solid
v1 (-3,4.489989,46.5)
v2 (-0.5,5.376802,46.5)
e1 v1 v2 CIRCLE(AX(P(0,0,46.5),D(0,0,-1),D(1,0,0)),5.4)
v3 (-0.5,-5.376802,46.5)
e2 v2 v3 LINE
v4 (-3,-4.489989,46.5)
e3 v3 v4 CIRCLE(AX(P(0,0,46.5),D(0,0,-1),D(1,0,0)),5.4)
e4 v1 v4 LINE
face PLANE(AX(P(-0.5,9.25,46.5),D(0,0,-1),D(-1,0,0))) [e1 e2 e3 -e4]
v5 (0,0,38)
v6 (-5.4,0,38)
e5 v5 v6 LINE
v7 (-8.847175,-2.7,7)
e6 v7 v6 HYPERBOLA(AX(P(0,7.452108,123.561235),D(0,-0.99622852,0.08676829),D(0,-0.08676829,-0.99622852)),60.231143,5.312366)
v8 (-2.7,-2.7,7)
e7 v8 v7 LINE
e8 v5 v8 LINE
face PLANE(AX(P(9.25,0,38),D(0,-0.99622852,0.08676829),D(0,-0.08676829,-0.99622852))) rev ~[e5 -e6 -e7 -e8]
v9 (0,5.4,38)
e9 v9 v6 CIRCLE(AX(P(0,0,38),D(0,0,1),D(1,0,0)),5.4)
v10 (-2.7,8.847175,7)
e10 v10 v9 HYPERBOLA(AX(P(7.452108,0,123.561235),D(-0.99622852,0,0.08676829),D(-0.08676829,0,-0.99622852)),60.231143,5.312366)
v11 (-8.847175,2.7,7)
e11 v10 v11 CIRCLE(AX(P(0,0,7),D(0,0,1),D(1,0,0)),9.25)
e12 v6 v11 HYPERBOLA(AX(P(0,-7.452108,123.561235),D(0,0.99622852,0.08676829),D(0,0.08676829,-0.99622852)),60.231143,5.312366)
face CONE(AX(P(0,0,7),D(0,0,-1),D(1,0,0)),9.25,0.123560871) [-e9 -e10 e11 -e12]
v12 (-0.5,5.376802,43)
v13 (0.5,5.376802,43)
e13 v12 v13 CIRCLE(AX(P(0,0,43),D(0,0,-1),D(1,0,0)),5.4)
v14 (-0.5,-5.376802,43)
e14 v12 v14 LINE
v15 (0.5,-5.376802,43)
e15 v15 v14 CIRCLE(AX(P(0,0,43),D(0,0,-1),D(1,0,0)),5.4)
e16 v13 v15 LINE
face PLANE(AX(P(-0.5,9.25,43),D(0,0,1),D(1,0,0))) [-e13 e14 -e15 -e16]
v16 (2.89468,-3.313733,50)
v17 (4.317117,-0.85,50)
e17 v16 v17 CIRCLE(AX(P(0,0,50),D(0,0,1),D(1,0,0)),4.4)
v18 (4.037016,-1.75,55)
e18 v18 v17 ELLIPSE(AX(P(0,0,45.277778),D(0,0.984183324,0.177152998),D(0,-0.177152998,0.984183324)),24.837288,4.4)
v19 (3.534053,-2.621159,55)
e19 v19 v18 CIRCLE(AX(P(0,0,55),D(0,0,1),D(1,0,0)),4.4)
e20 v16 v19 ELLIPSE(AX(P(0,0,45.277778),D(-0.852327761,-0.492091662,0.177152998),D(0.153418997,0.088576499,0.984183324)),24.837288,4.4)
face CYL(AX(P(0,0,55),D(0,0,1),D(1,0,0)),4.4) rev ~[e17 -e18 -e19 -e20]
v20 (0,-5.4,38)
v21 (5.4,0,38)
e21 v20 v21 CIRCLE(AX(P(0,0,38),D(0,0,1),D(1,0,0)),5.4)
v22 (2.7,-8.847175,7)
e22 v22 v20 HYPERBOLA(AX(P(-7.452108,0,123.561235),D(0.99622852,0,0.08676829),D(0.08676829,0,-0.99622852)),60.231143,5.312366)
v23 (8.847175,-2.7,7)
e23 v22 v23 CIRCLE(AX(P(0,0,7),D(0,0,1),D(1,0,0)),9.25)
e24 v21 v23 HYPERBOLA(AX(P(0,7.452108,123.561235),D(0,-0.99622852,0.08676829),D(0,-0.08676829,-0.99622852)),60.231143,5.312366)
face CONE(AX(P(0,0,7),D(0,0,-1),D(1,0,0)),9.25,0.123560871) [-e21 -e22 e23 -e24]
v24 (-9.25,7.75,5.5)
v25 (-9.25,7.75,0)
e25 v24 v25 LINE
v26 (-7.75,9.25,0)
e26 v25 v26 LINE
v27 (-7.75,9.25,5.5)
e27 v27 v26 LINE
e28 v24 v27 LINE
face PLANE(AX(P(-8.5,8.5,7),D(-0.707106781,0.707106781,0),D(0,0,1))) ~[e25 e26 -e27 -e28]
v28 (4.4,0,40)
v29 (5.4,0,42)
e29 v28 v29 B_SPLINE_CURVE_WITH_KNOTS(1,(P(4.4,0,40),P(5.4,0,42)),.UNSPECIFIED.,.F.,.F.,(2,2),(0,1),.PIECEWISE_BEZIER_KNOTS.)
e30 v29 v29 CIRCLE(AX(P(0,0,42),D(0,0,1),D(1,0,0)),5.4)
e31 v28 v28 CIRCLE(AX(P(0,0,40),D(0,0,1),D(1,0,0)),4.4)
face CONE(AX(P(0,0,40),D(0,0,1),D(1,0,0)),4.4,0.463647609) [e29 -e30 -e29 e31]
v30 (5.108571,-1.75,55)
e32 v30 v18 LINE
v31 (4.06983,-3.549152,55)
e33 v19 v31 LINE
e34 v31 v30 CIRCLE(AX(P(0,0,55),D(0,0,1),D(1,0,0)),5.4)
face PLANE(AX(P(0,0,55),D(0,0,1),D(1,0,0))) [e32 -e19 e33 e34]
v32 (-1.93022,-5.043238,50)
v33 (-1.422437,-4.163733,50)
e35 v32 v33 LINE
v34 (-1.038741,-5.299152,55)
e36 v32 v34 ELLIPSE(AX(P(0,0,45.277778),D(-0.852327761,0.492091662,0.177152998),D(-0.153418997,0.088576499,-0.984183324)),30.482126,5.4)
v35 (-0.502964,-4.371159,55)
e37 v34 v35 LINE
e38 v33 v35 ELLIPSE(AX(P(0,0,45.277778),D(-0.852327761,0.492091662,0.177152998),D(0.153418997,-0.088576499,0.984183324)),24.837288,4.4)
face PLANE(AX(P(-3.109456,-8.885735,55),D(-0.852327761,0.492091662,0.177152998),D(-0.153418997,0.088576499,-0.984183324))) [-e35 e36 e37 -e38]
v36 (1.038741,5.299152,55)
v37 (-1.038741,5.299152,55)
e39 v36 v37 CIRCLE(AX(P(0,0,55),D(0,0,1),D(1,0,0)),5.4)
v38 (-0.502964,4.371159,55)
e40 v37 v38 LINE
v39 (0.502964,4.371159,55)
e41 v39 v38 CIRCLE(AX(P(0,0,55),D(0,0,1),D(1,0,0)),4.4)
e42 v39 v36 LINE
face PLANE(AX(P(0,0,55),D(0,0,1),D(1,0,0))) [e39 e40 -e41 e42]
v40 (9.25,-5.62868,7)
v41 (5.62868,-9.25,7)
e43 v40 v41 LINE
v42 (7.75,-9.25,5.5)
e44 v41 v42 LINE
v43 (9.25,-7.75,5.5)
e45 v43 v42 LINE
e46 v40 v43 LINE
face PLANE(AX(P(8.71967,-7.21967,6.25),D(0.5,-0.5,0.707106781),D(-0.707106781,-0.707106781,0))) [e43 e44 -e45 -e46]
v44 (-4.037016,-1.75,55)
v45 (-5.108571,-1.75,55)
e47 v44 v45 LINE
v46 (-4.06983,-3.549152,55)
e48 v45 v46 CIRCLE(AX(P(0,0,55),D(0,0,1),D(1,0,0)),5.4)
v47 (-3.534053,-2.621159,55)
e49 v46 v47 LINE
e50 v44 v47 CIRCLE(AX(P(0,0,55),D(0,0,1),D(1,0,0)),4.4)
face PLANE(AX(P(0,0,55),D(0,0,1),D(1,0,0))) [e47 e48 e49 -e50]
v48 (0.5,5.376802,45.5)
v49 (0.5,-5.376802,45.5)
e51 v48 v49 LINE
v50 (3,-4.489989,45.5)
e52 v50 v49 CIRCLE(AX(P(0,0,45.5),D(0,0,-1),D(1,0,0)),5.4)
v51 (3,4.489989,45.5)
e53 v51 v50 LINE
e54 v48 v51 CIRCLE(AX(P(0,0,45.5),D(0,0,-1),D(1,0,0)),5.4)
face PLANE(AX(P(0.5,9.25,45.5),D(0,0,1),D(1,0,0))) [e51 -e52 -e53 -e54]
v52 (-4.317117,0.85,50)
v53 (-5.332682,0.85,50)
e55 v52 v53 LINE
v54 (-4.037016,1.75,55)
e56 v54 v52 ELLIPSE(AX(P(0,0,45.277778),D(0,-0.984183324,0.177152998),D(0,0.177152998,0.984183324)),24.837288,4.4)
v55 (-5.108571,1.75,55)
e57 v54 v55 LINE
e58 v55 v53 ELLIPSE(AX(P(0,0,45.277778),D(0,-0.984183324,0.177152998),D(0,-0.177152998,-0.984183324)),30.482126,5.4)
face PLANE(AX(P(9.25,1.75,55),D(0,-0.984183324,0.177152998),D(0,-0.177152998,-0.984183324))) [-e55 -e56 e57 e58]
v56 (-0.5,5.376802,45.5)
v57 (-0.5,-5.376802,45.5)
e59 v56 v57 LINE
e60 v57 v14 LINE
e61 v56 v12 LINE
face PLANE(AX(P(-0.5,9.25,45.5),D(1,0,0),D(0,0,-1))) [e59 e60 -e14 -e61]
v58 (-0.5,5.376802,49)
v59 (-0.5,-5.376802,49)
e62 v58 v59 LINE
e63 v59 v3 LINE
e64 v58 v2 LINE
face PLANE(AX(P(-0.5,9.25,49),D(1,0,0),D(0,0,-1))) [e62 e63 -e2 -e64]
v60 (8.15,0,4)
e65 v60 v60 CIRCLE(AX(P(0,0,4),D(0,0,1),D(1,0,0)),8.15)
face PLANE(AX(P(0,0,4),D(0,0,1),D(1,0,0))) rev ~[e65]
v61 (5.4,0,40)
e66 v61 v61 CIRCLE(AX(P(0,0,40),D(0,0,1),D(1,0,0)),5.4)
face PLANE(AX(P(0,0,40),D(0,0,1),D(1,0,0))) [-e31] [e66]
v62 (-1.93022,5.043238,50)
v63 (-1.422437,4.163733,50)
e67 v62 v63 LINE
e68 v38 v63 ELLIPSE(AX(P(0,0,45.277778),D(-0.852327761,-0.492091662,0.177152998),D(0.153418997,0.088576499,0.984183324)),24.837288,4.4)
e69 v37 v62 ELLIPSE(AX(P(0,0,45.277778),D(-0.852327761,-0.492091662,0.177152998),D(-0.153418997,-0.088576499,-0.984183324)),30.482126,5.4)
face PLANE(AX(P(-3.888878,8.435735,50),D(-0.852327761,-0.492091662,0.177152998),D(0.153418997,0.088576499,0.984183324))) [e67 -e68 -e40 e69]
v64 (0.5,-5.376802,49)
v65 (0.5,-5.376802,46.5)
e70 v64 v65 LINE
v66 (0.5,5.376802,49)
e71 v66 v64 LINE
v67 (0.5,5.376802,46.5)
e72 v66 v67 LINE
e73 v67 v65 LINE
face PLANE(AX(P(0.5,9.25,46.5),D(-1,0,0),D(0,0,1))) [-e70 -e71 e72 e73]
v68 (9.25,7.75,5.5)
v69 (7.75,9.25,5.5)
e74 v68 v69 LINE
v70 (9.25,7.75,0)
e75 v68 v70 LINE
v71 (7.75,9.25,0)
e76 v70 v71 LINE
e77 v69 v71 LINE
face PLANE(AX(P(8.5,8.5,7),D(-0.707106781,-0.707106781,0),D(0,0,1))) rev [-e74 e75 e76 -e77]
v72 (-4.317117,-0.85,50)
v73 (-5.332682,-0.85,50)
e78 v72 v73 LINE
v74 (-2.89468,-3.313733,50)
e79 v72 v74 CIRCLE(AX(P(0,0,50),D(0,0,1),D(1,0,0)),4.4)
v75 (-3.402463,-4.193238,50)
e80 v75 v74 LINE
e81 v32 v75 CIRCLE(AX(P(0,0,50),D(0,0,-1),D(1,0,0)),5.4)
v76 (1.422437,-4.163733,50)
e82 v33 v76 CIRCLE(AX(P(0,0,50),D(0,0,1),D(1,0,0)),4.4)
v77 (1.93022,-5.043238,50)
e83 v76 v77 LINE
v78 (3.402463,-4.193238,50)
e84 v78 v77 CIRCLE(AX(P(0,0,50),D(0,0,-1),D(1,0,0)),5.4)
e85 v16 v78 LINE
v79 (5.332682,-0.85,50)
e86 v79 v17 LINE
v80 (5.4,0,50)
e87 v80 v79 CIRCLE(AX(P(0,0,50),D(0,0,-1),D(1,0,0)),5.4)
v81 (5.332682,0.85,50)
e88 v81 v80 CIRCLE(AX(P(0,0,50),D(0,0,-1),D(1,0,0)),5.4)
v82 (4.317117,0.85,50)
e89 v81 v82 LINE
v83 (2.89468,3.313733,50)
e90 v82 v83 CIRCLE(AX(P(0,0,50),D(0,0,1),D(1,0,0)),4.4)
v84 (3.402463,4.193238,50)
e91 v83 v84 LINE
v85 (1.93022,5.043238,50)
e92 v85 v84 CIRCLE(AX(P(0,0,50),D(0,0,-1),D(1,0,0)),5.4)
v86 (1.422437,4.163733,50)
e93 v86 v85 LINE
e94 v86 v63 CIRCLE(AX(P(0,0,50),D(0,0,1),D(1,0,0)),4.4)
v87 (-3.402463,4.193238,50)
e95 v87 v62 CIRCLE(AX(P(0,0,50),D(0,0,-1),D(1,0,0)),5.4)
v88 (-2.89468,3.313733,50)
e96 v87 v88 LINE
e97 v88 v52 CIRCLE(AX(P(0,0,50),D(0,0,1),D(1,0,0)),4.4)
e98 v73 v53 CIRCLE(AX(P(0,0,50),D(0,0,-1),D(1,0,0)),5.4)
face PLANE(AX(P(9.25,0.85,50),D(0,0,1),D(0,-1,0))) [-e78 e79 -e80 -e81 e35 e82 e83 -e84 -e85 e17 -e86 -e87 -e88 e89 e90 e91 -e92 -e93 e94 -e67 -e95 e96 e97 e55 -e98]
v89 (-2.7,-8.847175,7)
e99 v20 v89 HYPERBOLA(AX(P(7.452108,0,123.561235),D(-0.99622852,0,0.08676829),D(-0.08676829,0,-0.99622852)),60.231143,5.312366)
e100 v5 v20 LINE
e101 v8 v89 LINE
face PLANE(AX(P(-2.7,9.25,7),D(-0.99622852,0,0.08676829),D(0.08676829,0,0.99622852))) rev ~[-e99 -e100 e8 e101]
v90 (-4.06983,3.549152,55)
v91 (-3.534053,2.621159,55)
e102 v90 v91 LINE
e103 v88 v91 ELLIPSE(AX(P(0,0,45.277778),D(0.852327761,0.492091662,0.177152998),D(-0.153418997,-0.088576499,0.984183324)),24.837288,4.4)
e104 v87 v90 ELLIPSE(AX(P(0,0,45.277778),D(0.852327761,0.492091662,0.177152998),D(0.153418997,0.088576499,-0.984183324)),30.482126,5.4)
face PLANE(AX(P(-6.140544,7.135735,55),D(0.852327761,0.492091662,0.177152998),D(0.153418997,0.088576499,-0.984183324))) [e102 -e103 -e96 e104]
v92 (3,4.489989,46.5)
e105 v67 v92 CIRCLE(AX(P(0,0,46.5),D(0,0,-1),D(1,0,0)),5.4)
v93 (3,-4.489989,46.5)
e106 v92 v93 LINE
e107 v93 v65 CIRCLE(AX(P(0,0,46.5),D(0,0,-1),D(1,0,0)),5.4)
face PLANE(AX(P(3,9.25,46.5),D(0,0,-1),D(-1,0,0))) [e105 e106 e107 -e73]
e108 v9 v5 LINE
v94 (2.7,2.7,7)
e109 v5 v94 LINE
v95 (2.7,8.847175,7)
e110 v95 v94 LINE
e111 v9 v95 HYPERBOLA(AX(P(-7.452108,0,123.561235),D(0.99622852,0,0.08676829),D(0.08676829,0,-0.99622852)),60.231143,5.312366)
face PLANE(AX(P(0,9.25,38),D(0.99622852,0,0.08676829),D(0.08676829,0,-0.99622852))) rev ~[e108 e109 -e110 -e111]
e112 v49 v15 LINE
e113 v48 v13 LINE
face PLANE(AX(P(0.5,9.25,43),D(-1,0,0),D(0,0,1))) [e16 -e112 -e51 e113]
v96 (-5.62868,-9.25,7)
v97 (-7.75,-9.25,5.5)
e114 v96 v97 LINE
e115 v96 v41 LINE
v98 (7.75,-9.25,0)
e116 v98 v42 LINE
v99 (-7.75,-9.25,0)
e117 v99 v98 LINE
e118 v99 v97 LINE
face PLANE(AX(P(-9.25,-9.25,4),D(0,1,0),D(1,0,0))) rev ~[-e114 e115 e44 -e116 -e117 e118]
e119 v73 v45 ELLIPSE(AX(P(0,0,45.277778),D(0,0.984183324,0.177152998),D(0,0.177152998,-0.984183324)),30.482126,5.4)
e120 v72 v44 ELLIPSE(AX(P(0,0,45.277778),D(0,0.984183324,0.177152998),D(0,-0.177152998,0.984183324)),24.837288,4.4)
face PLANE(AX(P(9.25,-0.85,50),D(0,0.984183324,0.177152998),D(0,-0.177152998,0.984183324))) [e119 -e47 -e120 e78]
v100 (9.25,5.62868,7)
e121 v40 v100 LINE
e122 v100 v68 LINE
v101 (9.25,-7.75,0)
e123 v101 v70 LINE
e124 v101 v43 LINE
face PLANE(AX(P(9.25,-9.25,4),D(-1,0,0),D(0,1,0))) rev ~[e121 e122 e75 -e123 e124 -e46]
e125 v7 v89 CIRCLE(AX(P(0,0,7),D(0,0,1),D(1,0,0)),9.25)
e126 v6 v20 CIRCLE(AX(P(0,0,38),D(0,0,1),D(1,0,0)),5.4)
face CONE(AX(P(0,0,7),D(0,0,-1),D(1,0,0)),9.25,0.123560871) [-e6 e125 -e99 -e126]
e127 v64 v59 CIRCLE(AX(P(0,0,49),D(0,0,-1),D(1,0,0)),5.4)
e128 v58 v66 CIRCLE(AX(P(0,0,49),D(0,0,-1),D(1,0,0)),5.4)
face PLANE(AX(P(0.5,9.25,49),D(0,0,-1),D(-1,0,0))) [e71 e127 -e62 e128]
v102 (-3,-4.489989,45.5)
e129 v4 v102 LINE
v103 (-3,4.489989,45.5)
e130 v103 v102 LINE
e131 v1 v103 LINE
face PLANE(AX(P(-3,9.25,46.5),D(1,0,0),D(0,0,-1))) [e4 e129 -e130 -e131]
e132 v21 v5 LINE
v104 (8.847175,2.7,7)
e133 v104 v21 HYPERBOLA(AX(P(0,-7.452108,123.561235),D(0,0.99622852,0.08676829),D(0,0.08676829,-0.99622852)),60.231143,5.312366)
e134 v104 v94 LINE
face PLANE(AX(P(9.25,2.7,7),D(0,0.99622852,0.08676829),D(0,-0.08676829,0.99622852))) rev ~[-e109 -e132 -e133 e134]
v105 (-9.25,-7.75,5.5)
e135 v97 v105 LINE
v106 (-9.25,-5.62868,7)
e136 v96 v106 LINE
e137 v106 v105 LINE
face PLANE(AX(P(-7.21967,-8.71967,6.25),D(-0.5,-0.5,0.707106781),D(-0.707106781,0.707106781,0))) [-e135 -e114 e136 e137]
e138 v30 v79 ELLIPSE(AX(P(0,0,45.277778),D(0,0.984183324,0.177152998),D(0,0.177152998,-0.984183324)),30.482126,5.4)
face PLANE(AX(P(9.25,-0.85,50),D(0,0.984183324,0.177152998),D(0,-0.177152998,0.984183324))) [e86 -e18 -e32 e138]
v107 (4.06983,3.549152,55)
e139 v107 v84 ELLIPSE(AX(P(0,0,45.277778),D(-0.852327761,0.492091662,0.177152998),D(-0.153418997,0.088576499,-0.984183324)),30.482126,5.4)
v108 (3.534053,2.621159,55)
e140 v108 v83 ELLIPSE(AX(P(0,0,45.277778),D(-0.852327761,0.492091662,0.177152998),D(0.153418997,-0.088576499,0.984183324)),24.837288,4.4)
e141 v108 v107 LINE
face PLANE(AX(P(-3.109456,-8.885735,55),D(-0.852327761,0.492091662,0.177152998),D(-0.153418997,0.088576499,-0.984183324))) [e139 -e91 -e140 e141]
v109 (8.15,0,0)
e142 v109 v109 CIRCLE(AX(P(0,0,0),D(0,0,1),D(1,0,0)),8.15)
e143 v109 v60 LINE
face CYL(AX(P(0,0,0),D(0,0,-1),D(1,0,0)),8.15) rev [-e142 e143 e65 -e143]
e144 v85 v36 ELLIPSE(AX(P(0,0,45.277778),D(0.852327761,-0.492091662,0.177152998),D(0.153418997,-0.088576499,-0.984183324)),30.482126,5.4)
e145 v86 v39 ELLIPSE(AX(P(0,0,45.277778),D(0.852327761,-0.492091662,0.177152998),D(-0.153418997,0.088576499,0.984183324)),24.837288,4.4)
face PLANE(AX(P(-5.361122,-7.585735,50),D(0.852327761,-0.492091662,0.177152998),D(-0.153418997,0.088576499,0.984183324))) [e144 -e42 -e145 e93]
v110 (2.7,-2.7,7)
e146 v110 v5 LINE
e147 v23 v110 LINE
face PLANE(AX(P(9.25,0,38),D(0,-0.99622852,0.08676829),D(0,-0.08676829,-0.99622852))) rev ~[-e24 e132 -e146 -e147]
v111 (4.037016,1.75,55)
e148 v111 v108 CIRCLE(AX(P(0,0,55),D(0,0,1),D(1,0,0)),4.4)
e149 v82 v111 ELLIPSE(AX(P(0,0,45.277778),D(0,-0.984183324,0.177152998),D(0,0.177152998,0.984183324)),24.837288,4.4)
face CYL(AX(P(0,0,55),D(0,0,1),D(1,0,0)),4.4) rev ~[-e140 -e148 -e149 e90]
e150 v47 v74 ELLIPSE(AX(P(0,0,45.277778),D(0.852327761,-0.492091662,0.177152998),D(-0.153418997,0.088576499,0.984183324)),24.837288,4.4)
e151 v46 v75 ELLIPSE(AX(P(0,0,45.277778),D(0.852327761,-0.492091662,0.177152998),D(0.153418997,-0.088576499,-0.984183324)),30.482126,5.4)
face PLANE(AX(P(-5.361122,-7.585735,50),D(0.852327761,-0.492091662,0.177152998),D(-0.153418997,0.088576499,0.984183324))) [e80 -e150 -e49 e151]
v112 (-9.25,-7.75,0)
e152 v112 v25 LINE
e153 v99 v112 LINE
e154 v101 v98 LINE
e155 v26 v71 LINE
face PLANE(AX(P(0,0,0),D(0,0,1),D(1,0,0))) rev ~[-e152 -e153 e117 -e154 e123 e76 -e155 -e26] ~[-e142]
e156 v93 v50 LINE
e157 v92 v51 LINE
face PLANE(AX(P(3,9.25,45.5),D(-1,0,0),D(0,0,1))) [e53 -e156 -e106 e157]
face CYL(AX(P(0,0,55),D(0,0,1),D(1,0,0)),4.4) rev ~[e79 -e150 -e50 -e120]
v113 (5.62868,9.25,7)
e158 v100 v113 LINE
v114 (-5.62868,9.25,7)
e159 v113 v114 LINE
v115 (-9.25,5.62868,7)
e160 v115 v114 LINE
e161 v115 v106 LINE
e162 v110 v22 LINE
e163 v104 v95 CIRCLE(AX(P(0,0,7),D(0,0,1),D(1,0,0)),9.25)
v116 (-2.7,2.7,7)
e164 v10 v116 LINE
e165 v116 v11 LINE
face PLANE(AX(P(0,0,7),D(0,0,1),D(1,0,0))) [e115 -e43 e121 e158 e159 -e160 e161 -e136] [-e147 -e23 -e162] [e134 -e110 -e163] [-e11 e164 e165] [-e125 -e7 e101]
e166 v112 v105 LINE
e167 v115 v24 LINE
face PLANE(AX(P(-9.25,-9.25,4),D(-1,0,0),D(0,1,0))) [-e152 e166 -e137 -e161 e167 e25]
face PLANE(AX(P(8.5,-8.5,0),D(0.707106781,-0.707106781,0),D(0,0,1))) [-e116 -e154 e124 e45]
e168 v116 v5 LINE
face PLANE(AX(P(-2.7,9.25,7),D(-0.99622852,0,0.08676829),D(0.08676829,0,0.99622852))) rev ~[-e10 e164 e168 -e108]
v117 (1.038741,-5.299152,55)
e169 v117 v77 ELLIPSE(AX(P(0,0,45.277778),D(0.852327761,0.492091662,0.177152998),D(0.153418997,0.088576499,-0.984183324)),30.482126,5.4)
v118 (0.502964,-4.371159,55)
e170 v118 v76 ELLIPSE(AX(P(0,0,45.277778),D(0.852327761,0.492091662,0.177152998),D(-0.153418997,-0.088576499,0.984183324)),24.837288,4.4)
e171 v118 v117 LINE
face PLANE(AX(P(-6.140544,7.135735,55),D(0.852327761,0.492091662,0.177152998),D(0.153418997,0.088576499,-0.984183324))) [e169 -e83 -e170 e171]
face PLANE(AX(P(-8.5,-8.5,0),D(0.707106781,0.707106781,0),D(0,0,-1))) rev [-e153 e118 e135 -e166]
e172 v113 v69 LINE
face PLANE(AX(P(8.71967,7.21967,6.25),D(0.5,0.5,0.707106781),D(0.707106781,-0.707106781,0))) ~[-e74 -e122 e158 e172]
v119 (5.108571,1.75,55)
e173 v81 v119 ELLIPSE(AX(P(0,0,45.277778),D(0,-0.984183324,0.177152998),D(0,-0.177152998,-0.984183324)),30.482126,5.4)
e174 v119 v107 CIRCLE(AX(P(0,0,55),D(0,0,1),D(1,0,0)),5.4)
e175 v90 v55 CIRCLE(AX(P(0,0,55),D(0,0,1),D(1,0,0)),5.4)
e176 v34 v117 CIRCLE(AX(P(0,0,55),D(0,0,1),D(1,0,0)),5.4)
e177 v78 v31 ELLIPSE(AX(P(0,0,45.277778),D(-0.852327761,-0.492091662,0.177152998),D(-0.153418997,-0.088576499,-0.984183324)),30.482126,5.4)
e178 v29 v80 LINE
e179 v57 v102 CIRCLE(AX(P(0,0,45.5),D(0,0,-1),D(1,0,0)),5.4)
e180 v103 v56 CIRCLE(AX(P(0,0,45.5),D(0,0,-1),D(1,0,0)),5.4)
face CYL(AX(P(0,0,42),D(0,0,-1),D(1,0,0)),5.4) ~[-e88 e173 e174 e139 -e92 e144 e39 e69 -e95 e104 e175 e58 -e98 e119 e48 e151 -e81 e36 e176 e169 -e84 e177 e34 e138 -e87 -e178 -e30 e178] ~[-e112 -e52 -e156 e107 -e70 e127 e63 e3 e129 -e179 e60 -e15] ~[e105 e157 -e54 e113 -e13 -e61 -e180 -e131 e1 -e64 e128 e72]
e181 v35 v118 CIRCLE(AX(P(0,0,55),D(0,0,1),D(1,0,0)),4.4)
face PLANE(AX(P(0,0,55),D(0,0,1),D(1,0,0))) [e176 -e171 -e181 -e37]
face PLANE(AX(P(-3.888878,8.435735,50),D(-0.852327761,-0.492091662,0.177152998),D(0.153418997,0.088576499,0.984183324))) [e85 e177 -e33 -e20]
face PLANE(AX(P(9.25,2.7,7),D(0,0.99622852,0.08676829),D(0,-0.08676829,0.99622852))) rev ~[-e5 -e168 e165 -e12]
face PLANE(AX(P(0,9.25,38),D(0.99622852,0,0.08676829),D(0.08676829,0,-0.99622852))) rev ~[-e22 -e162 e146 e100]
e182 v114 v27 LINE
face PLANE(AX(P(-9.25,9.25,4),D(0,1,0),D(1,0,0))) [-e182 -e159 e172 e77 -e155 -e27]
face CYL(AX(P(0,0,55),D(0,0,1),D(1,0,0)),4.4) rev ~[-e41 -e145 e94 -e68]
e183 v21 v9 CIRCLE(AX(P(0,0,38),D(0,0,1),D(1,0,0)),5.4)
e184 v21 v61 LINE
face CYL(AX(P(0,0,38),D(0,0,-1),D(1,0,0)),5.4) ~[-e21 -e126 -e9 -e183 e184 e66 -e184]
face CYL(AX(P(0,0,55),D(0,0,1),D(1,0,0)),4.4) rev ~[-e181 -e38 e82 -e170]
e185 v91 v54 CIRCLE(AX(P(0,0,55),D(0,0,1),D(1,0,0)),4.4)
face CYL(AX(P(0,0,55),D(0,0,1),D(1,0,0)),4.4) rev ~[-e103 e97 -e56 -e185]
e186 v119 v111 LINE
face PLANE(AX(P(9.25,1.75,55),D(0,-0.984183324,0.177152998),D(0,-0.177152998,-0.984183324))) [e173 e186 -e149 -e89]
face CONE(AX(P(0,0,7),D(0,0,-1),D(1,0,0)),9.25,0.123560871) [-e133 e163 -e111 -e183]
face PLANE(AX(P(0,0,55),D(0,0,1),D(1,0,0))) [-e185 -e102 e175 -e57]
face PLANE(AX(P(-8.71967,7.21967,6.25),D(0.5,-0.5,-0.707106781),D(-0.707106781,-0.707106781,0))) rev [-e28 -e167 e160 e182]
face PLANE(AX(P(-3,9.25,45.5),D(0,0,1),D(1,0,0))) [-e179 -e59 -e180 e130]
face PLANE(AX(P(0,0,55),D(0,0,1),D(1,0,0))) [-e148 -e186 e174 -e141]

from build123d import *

# Parameters (mm, degrees)
SKETCH_W              = 18.5
SKETCH_H              = 18.5
SKETCH_R              = 8.15
PAD_DEPTH             = 4
SKETCH001_W           = 18.5
SKETCH001_H           = 18.5
PAD001_DEPTH          = 3
SKETCH002_R           = 9.25
SKETCH003_R           = 5.4
SKETCH005_R           = 5.4
PAD002_DEPTH          = 2
CHAMFER_SIZE          = 1.5
CHAMFER001_SIZE       = 1.5
POCKET_DEPTH          = 114.093887
POLARPATTERN_COUNT    = 4
SKETCH007_R           = 4.4
SKETCH008_R           = 5.4
SKETCH009_R           = 5.4
PAD003_DEPTH          = 13
SKETCH010_R           = 4.4
POCKET001_DEPTH       = 5
POCKET002_DEPTH       = 140.31233
POLARPATTERN001_COUNT = 3
POCKET003_DEPTH       = 18.501


with BuildPart() as part:
    # Sketch → Pad (new body)
    with BuildSketch(Plane.XY):
        Rectangle(SKETCH_W, SKETCH_H)
        Circle(SKETCH_R, mode=Mode.SUBTRACT)
    extrude(amount=PAD_DEPTH)

    # Sketch001 (on Face7 of Pad) → Pad001 (join)
    with BuildSketch(Plane.XY.offset(4)):
        Rectangle(SKETCH001_W, SKETCH001_H)
    extrude(amount=PAD001_DEPTH)

    # Sketch002 (on Face10 of Pad001) → AdditiveLoft section 0
    with BuildSketch(Plane.XY.offset(7)):
        Circle(SKETCH002_R)
    # Sketch003 (on Face10 of Pad001) → AdditiveLoft section 1
    with BuildSketch(Plane.XY.offset(38)):
        Circle(SKETCH003_R)
    loft()

    # Sketch005 (on Face17 of AdditiveLoft) → Pad002 (join)
    with BuildSketch(Plane.XY.offset(38)):
        Circle(SKETCH005_R)
    extrude(amount=PAD002_DEPTH)

    # Chamfer
    chamfer_edges = [part.edges().sort_by_distance(p)[0] for p in [
        (-9.25, -9.25, 5.5),
        (-9.25, -9.25, 2),
        (9.25, -9.25, 5.5),
        (9.25, -9.25, 2),
        (9.25, 9.25, 2),
        (9.25, 9.25, 5.5),
        (-9.25, 9.25, 5.5),
        (-9.25, 9.25, 2),
    ]]
    chamfer(chamfer_edges, length=CHAMFER_SIZE)

    # Chamfer001
    chamfer001_edges = [part.edges().sort_by_distance(p)[0] for p in [
        (8.5, -8.5, 7),
        (-8.5, -8.5, 7),
        (-8.5, 8.5, 7),
        (8.5, 8.5, 7),
    ]]
    chamfer(chamfer001_edges, length=CHAMFER001_SIZE)

    # Sketch006 (on Face19 of Chamfer001) → Pocket (cut, through all)
    with BuildSketch(Plane.YZ.offset(9.25)):
        Polygon((0, 38), (-2.7, 7), (2.7, 7), align=None)
    pocket = extrude(amount=-POCKET_DEPTH, mode=Mode.SUBTRACT)

    # PolarPattern: Pocket ×4 about axis
    polarpattern_axis = Axis((0, 0, 0), (0, 0, 1))
    for i in range(1, POLARPATTERN_COUNT):
        add(pocket.rotate(polarpattern_axis, i * 360 / POLARPATTERN_COUNT), mode=Mode.SUBTRACT)

    # Sketch007 (on Face47 of PolarPattern) → AdditiveLoft001 section 0
    with BuildSketch(Plane.XY.offset(40)):
        Circle(SKETCH007_R)
    # Sketch008 → AdditiveLoft001 section 1
    with BuildSketch(Plane.XY.offset(42)):
        Circle(SKETCH008_R)
    loft()

    # Sketch009 (on Face56 of AdditiveLoft001) → Pad003 (join)
    with BuildSketch(Plane.XY.offset(42)):
        Circle(SKETCH009_R)
    extrude(amount=PAD003_DEPTH)

    # Sketch010 (on Face57 of Pad003) → Pocket001 (cut)
    with BuildSketch(Plane.XY.offset(55)):
        Circle(SKETCH010_R)
    extrude(amount=-POCKET001_DEPTH, mode=Mode.SUBTRACT)

    # Sketch011 (on Face26 of Pocket001) → Pocket002 (cut, through all)
    with BuildSketch(Plane.YZ.offset(9.25)):
        Polygon((-1.75, 55), (1.75, 55), (0.85, 50), (-0.85, 50), align=None)
    pocket002 = extrude(amount=-POCKET002_DEPTH, mode=Mode.SUBTRACT)

    # PolarPattern001: Pocket002 ×3 about axis
    polarpattern001_axis = Axis((0, 0, 0), (0, 0, 1))
    for i in range(1, POLARPATTERN001_COUNT):
        add(pocket002.rotate(polarpattern001_axis, i * 360 / POLARPATTERN001_COUNT), mode=Mode.SUBTRACT)

    # Sketch012 (on Face1 of PolarPattern001) → Pocket003 (cut, through all)
    with BuildSketch(Plane(origin=(0, 9.25, 0), x_dir=(-1, 0, 0), z_dir=(0, 1, 0))):
        Polygon((-3, 46.5), (-0.5, 46.5), (-0.5, 49), (0.5, 49), (0.5, 46.5), (3, 46.5), (3, 45.5), (0.5, 45.5), (0.5, 43), (-0.5, 43), (-0.5, 45.5), (-3, 45.5), align=None)
    extrude(amount=-POCKET003_DEPTH, mode=Mode.SUBTRACT)


solid = part.part
